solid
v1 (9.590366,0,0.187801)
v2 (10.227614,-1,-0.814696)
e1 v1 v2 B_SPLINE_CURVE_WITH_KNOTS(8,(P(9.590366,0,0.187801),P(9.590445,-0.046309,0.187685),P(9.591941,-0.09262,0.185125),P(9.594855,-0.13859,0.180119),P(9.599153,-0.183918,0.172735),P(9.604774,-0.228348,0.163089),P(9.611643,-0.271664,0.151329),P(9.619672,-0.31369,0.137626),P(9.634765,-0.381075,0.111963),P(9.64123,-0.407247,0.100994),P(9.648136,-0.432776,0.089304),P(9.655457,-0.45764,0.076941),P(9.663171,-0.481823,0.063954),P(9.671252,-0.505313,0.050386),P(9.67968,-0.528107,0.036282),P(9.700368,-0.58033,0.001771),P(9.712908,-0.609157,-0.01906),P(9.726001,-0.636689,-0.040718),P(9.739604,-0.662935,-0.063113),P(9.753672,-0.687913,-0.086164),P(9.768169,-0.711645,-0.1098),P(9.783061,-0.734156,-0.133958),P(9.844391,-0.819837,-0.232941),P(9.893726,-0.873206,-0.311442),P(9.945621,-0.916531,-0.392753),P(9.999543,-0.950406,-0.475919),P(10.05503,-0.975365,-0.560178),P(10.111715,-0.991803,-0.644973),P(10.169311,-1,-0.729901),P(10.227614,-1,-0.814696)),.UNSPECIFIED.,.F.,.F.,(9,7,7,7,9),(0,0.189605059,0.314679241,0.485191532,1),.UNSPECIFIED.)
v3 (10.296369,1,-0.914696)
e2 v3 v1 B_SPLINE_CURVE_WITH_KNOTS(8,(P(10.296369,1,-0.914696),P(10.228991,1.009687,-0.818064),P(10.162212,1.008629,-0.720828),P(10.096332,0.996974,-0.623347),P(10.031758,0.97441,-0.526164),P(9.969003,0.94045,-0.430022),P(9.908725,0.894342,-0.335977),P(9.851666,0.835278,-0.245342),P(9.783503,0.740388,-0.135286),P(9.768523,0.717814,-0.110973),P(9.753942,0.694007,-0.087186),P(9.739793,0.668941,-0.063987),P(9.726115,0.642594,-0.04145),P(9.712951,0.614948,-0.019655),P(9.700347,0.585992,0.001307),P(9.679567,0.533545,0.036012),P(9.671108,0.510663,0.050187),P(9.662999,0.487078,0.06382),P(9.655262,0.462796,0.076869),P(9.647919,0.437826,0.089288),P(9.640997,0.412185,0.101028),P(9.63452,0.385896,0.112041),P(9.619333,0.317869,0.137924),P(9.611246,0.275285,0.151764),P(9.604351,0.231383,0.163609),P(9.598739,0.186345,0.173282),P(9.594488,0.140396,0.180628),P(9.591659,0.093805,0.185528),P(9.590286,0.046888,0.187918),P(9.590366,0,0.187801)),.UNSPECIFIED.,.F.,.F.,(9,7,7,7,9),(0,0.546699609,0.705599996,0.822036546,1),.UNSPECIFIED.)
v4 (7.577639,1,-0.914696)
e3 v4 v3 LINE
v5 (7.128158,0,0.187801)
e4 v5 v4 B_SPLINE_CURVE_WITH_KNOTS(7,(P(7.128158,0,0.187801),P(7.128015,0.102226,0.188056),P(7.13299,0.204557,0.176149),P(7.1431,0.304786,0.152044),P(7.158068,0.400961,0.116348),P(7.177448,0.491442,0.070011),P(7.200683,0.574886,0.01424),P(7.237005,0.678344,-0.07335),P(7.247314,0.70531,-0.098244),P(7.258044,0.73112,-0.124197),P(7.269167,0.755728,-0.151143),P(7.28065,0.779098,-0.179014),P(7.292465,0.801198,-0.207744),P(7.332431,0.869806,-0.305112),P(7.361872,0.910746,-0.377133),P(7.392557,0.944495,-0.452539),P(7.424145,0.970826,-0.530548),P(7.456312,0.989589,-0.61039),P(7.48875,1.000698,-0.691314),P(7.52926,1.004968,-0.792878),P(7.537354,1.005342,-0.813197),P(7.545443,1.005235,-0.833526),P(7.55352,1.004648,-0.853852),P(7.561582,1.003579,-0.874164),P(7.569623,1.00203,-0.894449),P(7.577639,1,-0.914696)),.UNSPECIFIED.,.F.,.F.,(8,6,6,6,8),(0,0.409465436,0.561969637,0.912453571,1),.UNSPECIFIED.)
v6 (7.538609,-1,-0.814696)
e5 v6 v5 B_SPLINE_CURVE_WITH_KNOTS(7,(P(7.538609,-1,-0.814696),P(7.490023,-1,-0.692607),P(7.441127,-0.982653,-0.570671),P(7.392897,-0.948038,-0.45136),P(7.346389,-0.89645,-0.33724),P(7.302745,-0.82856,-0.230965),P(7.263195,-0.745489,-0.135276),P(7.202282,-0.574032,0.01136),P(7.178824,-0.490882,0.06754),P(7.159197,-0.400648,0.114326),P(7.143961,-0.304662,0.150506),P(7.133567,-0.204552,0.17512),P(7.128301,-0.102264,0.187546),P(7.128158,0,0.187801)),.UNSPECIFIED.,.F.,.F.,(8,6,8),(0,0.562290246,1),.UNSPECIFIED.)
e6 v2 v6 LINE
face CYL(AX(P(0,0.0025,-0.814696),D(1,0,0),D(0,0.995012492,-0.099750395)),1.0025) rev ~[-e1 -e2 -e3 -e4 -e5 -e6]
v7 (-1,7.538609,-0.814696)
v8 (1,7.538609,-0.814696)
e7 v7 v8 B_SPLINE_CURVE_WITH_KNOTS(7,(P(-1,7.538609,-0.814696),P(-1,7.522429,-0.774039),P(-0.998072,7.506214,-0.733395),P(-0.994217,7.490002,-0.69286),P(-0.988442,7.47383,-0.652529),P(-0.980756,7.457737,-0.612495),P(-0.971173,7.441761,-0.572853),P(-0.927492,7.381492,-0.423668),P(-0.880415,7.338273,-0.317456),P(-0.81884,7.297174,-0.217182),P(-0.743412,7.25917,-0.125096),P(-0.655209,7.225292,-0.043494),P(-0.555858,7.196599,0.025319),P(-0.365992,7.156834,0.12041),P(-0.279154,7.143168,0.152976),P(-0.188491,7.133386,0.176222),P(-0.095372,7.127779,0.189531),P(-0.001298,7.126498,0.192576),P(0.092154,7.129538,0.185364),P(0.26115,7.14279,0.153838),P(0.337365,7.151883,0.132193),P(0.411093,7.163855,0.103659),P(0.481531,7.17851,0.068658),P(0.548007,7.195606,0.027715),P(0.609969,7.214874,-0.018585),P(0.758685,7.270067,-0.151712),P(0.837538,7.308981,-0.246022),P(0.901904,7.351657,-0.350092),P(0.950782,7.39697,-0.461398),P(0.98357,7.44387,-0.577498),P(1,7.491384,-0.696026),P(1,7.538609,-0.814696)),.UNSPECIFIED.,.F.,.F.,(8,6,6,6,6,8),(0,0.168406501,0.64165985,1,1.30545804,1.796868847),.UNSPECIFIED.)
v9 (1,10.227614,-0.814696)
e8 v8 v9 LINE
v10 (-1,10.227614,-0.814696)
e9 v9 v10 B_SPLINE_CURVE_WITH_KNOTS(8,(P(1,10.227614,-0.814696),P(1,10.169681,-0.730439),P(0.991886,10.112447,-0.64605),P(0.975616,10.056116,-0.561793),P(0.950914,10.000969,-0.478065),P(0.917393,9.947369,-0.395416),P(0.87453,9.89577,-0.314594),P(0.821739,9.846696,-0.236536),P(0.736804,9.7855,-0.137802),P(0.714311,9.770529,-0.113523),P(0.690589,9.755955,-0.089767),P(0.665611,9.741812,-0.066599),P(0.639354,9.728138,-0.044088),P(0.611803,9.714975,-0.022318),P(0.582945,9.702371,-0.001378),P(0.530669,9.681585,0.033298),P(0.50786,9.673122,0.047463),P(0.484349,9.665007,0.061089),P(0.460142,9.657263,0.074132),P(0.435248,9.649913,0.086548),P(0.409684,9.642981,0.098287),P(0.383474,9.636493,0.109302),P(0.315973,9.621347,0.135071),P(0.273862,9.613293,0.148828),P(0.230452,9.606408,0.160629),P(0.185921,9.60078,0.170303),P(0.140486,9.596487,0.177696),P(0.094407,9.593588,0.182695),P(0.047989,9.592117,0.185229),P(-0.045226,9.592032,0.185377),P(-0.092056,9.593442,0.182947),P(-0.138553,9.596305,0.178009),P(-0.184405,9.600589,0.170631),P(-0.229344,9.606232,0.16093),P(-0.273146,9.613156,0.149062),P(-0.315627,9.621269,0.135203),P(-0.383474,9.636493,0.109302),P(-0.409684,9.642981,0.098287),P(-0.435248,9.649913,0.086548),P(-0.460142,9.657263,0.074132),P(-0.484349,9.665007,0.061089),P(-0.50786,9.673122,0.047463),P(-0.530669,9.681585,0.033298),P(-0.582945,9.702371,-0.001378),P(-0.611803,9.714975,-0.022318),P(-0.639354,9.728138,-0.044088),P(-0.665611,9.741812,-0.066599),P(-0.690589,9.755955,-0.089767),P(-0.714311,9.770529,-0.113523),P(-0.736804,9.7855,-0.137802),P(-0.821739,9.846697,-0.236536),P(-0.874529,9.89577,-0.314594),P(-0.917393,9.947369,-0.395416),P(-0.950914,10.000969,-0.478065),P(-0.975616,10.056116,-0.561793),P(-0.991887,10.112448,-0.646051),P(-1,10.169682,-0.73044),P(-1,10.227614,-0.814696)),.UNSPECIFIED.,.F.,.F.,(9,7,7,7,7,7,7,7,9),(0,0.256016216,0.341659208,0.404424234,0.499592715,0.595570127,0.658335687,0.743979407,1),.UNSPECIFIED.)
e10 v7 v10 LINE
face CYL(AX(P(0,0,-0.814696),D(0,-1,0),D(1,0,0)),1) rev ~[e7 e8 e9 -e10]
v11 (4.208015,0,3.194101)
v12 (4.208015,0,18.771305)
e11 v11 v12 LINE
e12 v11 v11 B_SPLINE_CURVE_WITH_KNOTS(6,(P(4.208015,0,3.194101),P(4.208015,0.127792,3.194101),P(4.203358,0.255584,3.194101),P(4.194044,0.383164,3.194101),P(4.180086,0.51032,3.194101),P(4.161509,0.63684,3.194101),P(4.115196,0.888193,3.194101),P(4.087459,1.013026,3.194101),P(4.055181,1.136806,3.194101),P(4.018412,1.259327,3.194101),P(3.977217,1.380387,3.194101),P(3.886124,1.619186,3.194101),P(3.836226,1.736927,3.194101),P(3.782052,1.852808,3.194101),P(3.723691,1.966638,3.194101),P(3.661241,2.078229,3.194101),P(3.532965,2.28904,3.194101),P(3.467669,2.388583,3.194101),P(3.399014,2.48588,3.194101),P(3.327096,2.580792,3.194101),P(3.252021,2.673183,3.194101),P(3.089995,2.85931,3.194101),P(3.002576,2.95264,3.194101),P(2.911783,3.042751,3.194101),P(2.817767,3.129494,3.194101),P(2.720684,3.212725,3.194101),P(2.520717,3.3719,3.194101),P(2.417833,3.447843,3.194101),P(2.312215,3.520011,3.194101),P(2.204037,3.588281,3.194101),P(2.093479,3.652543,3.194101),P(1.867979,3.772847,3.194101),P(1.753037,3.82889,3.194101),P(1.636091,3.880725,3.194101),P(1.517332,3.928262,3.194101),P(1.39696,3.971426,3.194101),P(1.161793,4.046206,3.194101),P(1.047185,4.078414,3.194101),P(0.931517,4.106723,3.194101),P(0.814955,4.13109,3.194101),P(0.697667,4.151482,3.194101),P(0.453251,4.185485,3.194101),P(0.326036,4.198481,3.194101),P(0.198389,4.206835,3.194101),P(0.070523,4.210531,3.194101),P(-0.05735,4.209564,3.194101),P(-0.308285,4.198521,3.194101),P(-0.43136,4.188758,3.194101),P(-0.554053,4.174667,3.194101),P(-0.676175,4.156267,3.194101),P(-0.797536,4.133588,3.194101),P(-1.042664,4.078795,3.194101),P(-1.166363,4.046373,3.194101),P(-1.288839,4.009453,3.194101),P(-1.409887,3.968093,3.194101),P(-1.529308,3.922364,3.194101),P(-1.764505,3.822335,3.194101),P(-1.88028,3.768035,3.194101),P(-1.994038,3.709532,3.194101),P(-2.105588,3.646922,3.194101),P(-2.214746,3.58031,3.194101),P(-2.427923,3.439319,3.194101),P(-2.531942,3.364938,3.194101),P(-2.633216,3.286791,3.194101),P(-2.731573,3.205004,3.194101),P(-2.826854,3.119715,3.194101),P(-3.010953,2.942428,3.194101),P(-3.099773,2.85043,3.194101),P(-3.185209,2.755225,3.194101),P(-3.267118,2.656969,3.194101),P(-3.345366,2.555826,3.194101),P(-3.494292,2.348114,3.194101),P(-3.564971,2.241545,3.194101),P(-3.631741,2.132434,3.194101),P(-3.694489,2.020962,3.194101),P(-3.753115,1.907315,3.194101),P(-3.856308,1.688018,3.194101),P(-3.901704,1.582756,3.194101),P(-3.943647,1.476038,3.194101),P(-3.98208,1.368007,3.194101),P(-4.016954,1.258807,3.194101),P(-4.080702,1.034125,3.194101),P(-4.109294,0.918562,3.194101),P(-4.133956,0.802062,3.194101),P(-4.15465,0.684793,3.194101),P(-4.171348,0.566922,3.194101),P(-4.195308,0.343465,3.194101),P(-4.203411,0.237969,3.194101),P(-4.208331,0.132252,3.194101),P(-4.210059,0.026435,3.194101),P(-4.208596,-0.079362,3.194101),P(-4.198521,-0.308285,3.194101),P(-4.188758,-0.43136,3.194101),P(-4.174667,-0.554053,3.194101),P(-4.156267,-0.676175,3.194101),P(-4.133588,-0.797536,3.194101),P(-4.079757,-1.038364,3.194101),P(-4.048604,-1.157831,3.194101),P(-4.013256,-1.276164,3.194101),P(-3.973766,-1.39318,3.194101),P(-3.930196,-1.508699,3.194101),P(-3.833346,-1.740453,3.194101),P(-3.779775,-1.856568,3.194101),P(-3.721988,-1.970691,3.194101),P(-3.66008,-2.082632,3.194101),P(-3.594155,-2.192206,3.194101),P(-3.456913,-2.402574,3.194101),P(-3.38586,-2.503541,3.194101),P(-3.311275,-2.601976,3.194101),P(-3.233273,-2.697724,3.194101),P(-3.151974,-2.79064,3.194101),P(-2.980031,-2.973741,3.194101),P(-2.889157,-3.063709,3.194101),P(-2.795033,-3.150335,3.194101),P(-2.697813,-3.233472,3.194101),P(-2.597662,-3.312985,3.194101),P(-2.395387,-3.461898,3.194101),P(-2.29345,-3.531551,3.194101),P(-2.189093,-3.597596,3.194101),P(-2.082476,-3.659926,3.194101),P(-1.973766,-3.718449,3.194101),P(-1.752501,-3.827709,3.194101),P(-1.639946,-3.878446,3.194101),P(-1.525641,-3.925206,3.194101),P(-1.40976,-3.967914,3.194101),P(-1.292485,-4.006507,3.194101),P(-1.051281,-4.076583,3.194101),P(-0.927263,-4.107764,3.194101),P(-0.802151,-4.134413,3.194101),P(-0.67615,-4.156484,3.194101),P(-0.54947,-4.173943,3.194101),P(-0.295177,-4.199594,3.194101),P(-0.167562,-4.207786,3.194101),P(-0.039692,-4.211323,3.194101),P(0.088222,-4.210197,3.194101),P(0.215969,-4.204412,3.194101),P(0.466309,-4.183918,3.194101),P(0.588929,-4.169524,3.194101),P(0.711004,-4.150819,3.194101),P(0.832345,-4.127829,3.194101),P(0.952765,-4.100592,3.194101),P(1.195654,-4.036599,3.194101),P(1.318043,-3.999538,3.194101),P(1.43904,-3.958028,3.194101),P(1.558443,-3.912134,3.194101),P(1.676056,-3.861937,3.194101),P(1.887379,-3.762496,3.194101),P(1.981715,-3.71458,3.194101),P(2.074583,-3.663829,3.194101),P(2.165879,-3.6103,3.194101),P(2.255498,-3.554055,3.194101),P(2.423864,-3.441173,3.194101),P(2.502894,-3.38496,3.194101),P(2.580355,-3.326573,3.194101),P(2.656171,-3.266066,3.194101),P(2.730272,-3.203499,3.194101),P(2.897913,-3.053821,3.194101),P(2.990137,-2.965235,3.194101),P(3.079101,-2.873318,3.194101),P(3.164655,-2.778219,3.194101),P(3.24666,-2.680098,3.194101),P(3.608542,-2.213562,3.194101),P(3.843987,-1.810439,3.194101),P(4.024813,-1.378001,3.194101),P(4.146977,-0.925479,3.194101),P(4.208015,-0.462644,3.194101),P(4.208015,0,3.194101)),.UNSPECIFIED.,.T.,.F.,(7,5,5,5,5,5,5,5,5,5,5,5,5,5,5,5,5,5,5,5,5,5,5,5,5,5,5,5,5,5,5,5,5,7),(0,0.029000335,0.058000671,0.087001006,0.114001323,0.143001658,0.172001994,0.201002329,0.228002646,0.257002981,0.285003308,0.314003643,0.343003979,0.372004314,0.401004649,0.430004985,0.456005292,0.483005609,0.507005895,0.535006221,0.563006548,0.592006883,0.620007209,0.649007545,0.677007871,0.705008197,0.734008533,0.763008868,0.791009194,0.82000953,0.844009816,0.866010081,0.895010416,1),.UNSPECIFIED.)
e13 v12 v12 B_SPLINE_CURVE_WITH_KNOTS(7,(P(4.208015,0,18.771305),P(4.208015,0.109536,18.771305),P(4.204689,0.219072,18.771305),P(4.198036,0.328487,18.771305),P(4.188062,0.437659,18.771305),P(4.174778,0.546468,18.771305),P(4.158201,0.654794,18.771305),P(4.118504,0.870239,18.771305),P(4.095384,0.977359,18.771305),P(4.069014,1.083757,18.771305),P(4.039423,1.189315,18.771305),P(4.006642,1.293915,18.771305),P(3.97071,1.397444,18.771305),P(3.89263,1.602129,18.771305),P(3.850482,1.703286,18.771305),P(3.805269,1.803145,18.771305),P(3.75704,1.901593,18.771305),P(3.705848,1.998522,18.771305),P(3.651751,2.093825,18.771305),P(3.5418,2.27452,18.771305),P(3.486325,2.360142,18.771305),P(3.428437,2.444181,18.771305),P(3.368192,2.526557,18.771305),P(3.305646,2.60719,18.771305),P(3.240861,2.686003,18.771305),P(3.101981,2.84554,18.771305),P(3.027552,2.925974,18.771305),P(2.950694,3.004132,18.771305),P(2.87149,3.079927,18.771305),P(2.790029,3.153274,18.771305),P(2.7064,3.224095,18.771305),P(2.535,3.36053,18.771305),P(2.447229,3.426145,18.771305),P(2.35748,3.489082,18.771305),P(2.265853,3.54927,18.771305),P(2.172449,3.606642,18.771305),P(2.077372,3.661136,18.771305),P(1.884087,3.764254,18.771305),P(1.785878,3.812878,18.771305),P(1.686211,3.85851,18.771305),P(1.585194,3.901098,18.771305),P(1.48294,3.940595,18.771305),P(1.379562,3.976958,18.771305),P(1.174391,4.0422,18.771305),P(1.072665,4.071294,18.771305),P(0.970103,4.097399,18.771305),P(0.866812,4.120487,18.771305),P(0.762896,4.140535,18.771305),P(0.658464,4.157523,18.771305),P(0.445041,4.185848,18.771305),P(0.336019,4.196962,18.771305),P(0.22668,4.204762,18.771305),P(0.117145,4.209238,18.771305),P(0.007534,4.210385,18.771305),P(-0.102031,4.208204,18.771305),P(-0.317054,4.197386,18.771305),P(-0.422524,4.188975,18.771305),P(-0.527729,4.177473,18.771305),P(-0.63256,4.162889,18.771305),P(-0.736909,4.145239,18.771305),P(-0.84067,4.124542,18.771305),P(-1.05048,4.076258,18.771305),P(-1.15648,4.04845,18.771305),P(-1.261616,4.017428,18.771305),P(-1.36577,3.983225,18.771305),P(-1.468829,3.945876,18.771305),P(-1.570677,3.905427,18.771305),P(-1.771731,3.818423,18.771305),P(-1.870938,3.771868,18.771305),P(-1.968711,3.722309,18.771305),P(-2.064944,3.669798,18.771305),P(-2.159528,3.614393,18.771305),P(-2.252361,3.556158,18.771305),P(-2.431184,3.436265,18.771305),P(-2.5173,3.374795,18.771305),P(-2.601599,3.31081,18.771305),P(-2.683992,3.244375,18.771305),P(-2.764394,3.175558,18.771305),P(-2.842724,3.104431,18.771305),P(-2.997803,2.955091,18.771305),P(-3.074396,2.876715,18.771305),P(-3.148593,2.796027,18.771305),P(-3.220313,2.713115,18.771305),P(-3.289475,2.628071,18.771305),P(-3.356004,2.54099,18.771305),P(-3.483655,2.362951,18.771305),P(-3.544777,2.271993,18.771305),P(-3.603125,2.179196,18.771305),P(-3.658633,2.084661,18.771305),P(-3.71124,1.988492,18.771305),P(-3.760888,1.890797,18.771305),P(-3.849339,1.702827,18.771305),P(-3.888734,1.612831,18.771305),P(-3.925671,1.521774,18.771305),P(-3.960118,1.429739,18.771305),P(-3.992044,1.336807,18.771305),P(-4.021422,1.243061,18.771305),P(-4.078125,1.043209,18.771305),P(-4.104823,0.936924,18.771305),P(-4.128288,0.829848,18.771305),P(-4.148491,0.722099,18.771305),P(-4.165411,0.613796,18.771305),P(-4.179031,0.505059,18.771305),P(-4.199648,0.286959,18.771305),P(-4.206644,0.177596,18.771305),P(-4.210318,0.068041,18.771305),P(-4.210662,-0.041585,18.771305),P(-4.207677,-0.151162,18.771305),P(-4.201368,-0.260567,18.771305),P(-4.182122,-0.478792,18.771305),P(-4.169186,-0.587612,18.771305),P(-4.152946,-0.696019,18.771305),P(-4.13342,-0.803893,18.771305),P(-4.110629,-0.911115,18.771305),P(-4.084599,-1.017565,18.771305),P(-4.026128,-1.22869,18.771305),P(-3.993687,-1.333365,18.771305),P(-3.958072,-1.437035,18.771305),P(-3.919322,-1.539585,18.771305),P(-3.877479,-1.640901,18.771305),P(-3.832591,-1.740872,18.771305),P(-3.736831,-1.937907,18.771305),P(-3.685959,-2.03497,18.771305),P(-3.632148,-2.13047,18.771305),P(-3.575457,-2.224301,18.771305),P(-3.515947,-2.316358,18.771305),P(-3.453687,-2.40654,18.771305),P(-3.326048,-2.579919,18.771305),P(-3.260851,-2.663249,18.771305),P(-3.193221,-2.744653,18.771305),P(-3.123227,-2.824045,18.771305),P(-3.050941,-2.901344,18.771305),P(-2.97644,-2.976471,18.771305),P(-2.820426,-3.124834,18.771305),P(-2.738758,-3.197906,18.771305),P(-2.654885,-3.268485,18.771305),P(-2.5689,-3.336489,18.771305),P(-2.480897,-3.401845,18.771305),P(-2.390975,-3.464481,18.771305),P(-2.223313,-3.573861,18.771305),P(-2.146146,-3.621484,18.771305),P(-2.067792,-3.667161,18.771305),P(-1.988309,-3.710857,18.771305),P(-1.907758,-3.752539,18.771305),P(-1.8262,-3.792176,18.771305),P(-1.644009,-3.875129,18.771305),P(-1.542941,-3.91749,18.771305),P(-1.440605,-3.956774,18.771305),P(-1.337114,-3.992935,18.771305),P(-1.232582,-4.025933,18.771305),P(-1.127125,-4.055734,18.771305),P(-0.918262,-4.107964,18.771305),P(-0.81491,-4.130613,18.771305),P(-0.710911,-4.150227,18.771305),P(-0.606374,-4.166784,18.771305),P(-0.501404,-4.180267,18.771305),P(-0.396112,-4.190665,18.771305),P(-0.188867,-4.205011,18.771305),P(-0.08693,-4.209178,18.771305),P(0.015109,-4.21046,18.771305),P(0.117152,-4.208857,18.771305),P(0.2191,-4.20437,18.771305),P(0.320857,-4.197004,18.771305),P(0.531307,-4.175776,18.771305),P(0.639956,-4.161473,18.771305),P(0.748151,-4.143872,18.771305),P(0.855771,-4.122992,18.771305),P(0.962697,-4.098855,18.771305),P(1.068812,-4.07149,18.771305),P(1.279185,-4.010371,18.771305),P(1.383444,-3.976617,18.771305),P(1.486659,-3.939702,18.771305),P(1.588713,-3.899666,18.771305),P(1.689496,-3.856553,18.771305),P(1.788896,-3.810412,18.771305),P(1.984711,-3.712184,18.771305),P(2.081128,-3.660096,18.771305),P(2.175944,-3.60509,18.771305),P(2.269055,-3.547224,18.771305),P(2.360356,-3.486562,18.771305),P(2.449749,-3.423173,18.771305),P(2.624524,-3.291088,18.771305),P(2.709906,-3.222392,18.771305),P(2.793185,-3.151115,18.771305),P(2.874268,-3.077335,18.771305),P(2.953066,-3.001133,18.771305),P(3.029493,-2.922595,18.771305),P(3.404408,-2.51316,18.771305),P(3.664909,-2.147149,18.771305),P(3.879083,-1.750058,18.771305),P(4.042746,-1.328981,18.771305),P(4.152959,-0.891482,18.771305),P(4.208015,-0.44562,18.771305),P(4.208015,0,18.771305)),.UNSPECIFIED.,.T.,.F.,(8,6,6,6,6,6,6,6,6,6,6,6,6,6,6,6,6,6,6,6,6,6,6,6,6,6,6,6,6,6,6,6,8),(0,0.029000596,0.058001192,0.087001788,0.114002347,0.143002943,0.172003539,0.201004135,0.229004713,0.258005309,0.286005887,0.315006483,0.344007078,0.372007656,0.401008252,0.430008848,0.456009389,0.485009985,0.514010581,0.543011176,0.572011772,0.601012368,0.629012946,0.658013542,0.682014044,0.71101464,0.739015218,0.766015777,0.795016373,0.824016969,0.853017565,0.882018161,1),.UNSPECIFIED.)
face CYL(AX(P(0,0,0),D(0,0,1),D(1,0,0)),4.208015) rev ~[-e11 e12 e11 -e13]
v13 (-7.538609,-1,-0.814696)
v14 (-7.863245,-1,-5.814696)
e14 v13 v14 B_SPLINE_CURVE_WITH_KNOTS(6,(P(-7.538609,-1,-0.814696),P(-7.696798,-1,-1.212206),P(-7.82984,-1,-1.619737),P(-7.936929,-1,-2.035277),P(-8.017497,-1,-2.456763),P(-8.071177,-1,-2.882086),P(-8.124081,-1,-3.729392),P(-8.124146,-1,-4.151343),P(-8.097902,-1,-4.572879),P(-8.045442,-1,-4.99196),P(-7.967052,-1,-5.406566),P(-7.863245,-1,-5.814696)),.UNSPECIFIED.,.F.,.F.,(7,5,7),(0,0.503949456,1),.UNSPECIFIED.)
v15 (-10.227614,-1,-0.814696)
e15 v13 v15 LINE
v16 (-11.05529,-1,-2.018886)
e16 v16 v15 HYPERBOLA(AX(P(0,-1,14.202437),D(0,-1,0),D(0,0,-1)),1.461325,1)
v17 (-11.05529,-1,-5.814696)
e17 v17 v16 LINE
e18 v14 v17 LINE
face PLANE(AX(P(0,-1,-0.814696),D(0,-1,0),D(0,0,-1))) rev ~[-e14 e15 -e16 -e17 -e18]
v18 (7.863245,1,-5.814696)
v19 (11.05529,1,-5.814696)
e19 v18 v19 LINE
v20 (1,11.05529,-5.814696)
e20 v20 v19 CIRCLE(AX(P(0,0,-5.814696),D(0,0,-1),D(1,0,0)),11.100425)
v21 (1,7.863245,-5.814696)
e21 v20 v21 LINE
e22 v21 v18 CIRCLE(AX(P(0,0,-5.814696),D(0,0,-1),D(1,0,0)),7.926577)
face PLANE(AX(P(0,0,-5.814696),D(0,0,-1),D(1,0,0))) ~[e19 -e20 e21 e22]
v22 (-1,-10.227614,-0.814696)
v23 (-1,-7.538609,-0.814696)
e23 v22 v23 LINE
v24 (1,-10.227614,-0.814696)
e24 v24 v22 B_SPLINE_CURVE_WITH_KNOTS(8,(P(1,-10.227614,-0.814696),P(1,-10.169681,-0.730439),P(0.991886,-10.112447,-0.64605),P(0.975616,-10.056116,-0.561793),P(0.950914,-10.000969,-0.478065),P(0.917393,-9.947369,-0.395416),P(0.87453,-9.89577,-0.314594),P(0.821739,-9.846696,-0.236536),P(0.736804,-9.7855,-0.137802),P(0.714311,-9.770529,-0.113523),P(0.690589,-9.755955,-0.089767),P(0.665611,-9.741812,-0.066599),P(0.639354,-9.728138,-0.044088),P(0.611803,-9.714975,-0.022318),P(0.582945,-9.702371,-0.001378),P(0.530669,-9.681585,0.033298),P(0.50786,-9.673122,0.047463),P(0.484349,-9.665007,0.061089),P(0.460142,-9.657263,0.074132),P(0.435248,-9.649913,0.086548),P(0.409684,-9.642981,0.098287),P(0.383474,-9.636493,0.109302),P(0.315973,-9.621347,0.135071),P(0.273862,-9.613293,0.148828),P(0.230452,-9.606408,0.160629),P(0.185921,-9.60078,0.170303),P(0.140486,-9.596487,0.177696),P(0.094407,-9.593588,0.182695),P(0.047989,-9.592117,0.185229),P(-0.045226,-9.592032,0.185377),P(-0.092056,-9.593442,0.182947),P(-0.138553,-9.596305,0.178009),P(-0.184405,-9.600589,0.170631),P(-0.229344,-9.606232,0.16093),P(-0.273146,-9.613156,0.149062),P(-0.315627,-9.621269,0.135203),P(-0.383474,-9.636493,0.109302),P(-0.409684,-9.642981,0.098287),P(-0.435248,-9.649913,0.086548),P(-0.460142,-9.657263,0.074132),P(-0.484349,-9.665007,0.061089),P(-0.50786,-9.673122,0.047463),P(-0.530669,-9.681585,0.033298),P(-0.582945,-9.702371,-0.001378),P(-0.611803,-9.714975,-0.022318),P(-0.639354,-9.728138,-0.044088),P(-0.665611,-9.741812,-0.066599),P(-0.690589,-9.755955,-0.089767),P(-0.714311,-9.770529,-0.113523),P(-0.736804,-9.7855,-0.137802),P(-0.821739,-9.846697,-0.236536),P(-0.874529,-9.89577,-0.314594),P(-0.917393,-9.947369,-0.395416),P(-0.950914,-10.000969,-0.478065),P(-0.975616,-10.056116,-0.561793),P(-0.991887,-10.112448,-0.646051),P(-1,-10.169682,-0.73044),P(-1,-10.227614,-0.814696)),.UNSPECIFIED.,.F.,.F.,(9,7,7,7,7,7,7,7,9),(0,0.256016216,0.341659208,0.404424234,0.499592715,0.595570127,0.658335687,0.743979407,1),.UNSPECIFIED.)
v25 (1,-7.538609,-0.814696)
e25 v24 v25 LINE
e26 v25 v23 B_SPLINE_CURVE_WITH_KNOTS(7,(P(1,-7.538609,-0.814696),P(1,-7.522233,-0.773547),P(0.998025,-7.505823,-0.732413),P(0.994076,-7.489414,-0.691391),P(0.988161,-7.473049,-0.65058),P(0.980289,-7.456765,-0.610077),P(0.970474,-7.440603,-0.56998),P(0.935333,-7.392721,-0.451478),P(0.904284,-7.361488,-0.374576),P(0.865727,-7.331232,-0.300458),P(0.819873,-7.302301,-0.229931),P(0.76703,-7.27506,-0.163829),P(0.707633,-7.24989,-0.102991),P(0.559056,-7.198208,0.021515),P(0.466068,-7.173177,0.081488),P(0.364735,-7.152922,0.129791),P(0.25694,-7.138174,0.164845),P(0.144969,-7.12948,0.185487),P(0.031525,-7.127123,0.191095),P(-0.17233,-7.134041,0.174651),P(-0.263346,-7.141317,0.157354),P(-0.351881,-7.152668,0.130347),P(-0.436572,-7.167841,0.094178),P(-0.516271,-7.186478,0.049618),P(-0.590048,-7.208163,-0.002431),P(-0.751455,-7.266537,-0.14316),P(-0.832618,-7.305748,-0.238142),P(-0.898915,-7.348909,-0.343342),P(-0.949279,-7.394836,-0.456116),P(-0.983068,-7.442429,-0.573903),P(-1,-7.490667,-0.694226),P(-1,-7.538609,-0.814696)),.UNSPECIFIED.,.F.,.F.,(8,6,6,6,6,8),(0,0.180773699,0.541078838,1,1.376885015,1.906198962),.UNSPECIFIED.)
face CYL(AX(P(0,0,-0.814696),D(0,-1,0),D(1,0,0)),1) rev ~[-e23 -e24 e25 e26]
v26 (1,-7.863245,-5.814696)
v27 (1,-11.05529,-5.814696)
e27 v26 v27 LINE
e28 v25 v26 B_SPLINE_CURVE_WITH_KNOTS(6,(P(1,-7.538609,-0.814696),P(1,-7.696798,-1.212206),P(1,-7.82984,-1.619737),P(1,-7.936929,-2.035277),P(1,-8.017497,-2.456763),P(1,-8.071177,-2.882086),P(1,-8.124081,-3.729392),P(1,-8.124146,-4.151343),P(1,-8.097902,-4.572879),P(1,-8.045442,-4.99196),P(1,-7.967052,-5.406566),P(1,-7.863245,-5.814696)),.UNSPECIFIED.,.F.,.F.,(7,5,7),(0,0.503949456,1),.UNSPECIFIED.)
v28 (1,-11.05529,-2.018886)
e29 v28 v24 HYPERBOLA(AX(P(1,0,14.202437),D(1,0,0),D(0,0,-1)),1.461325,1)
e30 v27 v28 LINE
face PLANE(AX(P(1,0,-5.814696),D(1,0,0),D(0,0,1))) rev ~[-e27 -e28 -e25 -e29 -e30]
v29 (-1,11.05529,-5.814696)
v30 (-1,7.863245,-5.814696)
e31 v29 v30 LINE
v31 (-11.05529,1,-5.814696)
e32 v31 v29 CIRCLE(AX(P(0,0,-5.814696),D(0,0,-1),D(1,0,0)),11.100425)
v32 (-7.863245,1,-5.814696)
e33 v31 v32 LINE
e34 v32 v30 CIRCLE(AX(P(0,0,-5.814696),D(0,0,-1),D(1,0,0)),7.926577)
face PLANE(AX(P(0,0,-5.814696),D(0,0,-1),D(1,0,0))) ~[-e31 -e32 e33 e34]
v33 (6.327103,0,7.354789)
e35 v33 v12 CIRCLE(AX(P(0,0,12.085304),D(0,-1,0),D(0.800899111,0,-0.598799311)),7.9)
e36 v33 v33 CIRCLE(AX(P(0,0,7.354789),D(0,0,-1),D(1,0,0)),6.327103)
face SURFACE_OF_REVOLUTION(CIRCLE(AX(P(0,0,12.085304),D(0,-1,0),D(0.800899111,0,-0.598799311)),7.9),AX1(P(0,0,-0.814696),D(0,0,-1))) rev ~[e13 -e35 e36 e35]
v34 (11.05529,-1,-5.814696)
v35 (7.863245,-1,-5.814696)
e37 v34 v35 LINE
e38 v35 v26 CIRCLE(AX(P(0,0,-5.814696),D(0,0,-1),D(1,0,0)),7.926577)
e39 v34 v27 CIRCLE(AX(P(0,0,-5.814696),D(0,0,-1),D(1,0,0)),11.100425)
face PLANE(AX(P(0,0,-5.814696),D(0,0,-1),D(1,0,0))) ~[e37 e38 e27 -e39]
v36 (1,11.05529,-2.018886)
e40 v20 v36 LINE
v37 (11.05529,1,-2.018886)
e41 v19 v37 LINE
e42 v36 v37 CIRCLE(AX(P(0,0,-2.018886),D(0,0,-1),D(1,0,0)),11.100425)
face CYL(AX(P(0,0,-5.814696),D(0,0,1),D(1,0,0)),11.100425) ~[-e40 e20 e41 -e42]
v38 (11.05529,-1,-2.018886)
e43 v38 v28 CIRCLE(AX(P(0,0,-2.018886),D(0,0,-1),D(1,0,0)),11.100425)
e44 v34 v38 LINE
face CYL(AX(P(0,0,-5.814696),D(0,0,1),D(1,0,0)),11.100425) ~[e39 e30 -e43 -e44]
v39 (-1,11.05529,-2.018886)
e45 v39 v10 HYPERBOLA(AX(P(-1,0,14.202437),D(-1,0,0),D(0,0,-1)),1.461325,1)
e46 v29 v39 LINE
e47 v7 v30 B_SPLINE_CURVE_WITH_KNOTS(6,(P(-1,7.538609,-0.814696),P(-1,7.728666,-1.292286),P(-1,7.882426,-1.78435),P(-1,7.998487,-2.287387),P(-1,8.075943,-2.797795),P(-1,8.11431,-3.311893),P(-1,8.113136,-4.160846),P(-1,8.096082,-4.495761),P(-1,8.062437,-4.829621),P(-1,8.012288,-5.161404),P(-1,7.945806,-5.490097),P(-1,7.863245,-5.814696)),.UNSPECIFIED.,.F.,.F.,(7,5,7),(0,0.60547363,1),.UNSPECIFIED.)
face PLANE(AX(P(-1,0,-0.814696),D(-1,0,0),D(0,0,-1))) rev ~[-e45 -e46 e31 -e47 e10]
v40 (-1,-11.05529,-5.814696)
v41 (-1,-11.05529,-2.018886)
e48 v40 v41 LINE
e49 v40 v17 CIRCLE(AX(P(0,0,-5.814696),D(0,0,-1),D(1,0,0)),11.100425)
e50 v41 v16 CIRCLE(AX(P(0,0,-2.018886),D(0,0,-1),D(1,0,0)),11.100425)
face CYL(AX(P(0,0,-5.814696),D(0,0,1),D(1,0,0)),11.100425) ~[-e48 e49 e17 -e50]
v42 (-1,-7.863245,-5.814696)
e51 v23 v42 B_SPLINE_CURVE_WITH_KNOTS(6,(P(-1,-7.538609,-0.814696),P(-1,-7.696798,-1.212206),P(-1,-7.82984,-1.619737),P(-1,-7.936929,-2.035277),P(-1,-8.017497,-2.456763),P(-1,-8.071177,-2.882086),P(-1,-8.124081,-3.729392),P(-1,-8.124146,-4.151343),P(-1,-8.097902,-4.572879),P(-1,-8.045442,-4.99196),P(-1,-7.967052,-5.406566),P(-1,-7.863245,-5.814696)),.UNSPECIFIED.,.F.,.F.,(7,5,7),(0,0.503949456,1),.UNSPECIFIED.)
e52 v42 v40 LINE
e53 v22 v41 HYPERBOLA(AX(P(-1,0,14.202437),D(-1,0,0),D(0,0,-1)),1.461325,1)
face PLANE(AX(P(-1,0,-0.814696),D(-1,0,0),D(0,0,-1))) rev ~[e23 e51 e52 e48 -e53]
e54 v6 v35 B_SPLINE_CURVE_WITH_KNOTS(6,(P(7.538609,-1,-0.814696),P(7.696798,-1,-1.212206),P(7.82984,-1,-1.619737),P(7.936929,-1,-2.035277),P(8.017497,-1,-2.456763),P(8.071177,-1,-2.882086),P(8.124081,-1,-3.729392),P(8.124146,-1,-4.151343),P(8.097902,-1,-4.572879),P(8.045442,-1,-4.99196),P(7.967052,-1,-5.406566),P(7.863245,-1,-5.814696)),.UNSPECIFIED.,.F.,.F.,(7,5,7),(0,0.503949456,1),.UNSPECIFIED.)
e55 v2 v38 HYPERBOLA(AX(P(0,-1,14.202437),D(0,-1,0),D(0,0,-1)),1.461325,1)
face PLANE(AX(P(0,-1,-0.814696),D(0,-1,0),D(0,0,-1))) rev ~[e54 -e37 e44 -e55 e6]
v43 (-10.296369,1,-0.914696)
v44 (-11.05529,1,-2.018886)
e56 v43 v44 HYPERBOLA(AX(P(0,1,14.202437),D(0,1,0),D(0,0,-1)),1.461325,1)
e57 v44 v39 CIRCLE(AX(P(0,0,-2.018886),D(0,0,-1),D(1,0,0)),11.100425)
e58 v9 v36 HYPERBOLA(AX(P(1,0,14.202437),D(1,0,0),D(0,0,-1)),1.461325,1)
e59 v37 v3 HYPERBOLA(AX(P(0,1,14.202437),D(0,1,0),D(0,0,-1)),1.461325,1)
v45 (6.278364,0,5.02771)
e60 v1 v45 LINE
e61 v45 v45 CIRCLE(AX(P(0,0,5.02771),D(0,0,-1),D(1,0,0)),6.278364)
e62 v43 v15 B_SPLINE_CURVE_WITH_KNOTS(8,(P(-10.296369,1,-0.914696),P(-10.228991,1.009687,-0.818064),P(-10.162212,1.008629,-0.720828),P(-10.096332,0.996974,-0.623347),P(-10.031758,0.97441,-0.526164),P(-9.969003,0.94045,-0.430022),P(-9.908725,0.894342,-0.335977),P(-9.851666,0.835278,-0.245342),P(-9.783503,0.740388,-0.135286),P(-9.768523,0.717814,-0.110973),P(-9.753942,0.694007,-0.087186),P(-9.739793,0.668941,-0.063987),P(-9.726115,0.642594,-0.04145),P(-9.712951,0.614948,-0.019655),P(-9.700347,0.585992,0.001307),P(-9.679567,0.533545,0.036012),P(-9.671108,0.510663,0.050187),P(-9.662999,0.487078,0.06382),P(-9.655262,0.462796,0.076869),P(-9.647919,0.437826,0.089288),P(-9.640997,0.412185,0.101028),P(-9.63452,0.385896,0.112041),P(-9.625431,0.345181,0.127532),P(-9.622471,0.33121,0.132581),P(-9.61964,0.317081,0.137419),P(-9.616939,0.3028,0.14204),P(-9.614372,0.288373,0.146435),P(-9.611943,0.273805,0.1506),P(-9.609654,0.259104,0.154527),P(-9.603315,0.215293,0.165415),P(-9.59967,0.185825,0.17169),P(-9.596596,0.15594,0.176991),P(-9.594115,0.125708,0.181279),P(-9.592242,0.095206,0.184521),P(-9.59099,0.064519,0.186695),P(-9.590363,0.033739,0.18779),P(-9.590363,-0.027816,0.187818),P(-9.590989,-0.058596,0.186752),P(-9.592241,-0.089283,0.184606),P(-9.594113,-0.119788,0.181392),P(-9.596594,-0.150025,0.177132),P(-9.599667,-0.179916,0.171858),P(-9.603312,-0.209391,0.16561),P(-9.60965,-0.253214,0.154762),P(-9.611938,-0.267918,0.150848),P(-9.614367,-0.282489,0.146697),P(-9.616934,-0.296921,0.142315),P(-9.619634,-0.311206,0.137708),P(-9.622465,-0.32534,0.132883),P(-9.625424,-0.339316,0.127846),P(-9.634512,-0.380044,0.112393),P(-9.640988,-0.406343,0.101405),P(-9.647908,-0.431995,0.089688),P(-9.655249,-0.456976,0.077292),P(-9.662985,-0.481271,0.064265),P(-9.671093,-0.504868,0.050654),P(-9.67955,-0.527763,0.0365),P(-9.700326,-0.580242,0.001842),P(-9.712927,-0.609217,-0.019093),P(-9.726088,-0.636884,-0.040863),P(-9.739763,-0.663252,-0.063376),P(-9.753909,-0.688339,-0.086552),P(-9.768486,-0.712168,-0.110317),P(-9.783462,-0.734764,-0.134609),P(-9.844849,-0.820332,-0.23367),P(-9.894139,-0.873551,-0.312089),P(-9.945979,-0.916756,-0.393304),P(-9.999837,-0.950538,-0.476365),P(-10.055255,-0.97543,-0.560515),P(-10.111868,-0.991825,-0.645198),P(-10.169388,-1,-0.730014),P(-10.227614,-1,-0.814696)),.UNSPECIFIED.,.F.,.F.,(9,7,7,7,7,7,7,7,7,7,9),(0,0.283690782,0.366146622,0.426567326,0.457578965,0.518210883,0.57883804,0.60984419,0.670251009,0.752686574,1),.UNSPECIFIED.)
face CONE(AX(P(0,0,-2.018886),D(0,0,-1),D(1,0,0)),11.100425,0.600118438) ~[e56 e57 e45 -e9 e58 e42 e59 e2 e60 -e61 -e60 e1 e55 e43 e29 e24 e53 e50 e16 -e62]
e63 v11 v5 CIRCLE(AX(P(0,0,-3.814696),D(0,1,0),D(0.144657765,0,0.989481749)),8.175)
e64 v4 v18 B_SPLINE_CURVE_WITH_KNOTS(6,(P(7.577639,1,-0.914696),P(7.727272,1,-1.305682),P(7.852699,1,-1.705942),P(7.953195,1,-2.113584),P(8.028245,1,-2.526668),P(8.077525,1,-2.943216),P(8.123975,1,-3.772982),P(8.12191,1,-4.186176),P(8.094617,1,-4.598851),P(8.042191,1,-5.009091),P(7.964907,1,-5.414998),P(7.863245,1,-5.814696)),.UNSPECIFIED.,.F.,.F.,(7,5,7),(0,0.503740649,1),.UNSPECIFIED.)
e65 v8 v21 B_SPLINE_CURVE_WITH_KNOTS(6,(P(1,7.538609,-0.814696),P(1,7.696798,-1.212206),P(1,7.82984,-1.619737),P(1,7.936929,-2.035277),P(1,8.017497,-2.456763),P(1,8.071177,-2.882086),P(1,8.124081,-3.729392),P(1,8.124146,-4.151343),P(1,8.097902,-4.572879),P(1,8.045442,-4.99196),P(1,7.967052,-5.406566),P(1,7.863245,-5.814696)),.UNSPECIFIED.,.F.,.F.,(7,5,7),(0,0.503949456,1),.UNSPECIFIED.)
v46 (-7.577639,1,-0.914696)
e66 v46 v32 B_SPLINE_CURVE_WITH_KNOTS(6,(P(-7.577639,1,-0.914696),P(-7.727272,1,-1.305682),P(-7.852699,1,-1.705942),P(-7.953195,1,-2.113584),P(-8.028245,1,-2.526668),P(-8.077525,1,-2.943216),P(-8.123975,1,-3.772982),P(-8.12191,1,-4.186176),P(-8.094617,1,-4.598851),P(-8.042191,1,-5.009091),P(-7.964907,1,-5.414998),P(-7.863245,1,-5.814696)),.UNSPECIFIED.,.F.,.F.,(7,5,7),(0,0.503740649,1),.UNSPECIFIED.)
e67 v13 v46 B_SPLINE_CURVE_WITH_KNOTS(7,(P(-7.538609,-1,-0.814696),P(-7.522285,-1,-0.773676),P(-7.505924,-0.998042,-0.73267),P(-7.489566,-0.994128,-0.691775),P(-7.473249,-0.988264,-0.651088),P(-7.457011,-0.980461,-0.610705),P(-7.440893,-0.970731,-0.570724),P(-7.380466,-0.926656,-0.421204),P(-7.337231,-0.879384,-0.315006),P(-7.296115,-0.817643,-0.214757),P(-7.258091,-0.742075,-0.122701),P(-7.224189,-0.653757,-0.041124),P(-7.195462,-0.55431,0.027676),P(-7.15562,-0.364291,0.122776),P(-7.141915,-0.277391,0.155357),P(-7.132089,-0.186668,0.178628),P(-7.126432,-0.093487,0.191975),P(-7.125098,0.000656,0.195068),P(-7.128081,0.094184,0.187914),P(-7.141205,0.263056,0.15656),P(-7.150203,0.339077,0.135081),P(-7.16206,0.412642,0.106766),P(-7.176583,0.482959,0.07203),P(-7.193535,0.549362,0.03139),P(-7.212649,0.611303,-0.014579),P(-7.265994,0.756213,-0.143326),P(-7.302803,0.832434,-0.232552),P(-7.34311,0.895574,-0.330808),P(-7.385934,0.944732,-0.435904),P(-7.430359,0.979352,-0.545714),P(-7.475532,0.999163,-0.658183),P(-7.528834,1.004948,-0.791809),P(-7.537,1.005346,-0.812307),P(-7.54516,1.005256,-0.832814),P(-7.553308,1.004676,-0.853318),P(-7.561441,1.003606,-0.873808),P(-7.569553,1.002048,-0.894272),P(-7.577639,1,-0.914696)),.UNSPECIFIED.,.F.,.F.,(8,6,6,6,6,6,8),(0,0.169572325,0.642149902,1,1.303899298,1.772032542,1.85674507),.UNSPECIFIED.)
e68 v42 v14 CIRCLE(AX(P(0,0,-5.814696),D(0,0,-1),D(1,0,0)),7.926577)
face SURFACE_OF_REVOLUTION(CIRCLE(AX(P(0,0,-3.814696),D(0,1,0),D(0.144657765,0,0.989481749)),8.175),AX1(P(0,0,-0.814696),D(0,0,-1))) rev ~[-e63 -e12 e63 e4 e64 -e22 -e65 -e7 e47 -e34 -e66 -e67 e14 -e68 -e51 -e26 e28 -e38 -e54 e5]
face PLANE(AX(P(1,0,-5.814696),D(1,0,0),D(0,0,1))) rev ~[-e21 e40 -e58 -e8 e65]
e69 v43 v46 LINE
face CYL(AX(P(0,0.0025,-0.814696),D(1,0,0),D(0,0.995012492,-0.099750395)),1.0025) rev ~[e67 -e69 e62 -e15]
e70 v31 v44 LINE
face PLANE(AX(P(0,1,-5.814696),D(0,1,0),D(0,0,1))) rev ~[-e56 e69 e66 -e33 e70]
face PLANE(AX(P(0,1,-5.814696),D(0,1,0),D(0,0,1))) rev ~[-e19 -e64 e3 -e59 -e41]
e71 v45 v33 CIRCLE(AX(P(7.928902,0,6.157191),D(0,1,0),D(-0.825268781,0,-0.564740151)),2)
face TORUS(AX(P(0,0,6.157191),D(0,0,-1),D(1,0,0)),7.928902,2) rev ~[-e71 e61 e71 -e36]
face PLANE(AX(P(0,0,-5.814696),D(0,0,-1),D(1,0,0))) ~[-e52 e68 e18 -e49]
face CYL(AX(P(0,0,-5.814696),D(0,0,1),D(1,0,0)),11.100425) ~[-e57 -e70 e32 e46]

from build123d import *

# Parameters (mm, degrees)
F2_R     = 4.208015
F3_DEPTH = 25
F5_DEPTH = 12.5
F7_DEPTH = 12.5


with BuildPart() as f1:
    # F0 (on Front) → F1 (revolve)
    with BuildSketch(Plane.XZ):
        with BuildLine():
            Line((0, 19.985304), (0, 4.185304))
            ThreePointArc((0, 4.185304), (0.592961, 4.207589), (1.182577, 4.274317))
            ThreePointArc((1.182577, 4.274317), (6.796412, 0.728365), (7.926577, -5.814696))
            Line((7.926577, -5.814696), (11.100425, -5.814696))
            Line((11.100425, -5.814696), (11.100425, -2.018886))
            Line((11.100425, -2.018886), (6.278364, 5.02771))
            ThreePointArc((6.278364, 5.02771), (5.92934, 6.19907), (6.327103, 7.354789))
            ThreePointArc((6.327103, 7.354789), (7.063323, 15.62359), (0, 19.985304))
        make_face()
    revolve(axis=Axis((0, 0, -0.814696), (0, 0, -1)))

    # F2 (on Top) → F3 (cut, symmetric)
    with BuildSketch(Plane.XY):
        Circle(F2_R)
    extrude(amount=F3_DEPTH, both=True, mode=Mode.SUBTRACT)

    # F4 (on Right) → F5 (cut, symmetric)
    with BuildSketch(Plane.YZ):
        with BuildLine():
            Line((-1, -5.814696), (1, -5.814696))
            Line((1, -5.814696), (1, -0.914696))
            ThreePointArc((1, -0.914696), (0.052562, 0.186553), (-1, -0.814696))
            Line((-1, -0.814696), (-1, -5.814696))
        make_face()
    extrude(amount=F5_DEPTH, both=True, mode=Mode.SUBTRACT)

    # F6 (on Front) → F7 (cut, symmetric)
    with BuildSketch(Plane.XZ):
        with BuildLine():
            Line((-1, -0.814696), (-1, -5.814696))
            Line((-1, -5.814696), (1, -5.814696))
            Line((1, -5.814696), (1, -0.814696))
            ThreePointArc((1, -0.814696), (0, 0.185304), (-1, -0.814696))
        make_face()
    extrude(amount=F7_DEPTH, both=True, mode=Mode.SUBTRACT)


solid = f1.part
